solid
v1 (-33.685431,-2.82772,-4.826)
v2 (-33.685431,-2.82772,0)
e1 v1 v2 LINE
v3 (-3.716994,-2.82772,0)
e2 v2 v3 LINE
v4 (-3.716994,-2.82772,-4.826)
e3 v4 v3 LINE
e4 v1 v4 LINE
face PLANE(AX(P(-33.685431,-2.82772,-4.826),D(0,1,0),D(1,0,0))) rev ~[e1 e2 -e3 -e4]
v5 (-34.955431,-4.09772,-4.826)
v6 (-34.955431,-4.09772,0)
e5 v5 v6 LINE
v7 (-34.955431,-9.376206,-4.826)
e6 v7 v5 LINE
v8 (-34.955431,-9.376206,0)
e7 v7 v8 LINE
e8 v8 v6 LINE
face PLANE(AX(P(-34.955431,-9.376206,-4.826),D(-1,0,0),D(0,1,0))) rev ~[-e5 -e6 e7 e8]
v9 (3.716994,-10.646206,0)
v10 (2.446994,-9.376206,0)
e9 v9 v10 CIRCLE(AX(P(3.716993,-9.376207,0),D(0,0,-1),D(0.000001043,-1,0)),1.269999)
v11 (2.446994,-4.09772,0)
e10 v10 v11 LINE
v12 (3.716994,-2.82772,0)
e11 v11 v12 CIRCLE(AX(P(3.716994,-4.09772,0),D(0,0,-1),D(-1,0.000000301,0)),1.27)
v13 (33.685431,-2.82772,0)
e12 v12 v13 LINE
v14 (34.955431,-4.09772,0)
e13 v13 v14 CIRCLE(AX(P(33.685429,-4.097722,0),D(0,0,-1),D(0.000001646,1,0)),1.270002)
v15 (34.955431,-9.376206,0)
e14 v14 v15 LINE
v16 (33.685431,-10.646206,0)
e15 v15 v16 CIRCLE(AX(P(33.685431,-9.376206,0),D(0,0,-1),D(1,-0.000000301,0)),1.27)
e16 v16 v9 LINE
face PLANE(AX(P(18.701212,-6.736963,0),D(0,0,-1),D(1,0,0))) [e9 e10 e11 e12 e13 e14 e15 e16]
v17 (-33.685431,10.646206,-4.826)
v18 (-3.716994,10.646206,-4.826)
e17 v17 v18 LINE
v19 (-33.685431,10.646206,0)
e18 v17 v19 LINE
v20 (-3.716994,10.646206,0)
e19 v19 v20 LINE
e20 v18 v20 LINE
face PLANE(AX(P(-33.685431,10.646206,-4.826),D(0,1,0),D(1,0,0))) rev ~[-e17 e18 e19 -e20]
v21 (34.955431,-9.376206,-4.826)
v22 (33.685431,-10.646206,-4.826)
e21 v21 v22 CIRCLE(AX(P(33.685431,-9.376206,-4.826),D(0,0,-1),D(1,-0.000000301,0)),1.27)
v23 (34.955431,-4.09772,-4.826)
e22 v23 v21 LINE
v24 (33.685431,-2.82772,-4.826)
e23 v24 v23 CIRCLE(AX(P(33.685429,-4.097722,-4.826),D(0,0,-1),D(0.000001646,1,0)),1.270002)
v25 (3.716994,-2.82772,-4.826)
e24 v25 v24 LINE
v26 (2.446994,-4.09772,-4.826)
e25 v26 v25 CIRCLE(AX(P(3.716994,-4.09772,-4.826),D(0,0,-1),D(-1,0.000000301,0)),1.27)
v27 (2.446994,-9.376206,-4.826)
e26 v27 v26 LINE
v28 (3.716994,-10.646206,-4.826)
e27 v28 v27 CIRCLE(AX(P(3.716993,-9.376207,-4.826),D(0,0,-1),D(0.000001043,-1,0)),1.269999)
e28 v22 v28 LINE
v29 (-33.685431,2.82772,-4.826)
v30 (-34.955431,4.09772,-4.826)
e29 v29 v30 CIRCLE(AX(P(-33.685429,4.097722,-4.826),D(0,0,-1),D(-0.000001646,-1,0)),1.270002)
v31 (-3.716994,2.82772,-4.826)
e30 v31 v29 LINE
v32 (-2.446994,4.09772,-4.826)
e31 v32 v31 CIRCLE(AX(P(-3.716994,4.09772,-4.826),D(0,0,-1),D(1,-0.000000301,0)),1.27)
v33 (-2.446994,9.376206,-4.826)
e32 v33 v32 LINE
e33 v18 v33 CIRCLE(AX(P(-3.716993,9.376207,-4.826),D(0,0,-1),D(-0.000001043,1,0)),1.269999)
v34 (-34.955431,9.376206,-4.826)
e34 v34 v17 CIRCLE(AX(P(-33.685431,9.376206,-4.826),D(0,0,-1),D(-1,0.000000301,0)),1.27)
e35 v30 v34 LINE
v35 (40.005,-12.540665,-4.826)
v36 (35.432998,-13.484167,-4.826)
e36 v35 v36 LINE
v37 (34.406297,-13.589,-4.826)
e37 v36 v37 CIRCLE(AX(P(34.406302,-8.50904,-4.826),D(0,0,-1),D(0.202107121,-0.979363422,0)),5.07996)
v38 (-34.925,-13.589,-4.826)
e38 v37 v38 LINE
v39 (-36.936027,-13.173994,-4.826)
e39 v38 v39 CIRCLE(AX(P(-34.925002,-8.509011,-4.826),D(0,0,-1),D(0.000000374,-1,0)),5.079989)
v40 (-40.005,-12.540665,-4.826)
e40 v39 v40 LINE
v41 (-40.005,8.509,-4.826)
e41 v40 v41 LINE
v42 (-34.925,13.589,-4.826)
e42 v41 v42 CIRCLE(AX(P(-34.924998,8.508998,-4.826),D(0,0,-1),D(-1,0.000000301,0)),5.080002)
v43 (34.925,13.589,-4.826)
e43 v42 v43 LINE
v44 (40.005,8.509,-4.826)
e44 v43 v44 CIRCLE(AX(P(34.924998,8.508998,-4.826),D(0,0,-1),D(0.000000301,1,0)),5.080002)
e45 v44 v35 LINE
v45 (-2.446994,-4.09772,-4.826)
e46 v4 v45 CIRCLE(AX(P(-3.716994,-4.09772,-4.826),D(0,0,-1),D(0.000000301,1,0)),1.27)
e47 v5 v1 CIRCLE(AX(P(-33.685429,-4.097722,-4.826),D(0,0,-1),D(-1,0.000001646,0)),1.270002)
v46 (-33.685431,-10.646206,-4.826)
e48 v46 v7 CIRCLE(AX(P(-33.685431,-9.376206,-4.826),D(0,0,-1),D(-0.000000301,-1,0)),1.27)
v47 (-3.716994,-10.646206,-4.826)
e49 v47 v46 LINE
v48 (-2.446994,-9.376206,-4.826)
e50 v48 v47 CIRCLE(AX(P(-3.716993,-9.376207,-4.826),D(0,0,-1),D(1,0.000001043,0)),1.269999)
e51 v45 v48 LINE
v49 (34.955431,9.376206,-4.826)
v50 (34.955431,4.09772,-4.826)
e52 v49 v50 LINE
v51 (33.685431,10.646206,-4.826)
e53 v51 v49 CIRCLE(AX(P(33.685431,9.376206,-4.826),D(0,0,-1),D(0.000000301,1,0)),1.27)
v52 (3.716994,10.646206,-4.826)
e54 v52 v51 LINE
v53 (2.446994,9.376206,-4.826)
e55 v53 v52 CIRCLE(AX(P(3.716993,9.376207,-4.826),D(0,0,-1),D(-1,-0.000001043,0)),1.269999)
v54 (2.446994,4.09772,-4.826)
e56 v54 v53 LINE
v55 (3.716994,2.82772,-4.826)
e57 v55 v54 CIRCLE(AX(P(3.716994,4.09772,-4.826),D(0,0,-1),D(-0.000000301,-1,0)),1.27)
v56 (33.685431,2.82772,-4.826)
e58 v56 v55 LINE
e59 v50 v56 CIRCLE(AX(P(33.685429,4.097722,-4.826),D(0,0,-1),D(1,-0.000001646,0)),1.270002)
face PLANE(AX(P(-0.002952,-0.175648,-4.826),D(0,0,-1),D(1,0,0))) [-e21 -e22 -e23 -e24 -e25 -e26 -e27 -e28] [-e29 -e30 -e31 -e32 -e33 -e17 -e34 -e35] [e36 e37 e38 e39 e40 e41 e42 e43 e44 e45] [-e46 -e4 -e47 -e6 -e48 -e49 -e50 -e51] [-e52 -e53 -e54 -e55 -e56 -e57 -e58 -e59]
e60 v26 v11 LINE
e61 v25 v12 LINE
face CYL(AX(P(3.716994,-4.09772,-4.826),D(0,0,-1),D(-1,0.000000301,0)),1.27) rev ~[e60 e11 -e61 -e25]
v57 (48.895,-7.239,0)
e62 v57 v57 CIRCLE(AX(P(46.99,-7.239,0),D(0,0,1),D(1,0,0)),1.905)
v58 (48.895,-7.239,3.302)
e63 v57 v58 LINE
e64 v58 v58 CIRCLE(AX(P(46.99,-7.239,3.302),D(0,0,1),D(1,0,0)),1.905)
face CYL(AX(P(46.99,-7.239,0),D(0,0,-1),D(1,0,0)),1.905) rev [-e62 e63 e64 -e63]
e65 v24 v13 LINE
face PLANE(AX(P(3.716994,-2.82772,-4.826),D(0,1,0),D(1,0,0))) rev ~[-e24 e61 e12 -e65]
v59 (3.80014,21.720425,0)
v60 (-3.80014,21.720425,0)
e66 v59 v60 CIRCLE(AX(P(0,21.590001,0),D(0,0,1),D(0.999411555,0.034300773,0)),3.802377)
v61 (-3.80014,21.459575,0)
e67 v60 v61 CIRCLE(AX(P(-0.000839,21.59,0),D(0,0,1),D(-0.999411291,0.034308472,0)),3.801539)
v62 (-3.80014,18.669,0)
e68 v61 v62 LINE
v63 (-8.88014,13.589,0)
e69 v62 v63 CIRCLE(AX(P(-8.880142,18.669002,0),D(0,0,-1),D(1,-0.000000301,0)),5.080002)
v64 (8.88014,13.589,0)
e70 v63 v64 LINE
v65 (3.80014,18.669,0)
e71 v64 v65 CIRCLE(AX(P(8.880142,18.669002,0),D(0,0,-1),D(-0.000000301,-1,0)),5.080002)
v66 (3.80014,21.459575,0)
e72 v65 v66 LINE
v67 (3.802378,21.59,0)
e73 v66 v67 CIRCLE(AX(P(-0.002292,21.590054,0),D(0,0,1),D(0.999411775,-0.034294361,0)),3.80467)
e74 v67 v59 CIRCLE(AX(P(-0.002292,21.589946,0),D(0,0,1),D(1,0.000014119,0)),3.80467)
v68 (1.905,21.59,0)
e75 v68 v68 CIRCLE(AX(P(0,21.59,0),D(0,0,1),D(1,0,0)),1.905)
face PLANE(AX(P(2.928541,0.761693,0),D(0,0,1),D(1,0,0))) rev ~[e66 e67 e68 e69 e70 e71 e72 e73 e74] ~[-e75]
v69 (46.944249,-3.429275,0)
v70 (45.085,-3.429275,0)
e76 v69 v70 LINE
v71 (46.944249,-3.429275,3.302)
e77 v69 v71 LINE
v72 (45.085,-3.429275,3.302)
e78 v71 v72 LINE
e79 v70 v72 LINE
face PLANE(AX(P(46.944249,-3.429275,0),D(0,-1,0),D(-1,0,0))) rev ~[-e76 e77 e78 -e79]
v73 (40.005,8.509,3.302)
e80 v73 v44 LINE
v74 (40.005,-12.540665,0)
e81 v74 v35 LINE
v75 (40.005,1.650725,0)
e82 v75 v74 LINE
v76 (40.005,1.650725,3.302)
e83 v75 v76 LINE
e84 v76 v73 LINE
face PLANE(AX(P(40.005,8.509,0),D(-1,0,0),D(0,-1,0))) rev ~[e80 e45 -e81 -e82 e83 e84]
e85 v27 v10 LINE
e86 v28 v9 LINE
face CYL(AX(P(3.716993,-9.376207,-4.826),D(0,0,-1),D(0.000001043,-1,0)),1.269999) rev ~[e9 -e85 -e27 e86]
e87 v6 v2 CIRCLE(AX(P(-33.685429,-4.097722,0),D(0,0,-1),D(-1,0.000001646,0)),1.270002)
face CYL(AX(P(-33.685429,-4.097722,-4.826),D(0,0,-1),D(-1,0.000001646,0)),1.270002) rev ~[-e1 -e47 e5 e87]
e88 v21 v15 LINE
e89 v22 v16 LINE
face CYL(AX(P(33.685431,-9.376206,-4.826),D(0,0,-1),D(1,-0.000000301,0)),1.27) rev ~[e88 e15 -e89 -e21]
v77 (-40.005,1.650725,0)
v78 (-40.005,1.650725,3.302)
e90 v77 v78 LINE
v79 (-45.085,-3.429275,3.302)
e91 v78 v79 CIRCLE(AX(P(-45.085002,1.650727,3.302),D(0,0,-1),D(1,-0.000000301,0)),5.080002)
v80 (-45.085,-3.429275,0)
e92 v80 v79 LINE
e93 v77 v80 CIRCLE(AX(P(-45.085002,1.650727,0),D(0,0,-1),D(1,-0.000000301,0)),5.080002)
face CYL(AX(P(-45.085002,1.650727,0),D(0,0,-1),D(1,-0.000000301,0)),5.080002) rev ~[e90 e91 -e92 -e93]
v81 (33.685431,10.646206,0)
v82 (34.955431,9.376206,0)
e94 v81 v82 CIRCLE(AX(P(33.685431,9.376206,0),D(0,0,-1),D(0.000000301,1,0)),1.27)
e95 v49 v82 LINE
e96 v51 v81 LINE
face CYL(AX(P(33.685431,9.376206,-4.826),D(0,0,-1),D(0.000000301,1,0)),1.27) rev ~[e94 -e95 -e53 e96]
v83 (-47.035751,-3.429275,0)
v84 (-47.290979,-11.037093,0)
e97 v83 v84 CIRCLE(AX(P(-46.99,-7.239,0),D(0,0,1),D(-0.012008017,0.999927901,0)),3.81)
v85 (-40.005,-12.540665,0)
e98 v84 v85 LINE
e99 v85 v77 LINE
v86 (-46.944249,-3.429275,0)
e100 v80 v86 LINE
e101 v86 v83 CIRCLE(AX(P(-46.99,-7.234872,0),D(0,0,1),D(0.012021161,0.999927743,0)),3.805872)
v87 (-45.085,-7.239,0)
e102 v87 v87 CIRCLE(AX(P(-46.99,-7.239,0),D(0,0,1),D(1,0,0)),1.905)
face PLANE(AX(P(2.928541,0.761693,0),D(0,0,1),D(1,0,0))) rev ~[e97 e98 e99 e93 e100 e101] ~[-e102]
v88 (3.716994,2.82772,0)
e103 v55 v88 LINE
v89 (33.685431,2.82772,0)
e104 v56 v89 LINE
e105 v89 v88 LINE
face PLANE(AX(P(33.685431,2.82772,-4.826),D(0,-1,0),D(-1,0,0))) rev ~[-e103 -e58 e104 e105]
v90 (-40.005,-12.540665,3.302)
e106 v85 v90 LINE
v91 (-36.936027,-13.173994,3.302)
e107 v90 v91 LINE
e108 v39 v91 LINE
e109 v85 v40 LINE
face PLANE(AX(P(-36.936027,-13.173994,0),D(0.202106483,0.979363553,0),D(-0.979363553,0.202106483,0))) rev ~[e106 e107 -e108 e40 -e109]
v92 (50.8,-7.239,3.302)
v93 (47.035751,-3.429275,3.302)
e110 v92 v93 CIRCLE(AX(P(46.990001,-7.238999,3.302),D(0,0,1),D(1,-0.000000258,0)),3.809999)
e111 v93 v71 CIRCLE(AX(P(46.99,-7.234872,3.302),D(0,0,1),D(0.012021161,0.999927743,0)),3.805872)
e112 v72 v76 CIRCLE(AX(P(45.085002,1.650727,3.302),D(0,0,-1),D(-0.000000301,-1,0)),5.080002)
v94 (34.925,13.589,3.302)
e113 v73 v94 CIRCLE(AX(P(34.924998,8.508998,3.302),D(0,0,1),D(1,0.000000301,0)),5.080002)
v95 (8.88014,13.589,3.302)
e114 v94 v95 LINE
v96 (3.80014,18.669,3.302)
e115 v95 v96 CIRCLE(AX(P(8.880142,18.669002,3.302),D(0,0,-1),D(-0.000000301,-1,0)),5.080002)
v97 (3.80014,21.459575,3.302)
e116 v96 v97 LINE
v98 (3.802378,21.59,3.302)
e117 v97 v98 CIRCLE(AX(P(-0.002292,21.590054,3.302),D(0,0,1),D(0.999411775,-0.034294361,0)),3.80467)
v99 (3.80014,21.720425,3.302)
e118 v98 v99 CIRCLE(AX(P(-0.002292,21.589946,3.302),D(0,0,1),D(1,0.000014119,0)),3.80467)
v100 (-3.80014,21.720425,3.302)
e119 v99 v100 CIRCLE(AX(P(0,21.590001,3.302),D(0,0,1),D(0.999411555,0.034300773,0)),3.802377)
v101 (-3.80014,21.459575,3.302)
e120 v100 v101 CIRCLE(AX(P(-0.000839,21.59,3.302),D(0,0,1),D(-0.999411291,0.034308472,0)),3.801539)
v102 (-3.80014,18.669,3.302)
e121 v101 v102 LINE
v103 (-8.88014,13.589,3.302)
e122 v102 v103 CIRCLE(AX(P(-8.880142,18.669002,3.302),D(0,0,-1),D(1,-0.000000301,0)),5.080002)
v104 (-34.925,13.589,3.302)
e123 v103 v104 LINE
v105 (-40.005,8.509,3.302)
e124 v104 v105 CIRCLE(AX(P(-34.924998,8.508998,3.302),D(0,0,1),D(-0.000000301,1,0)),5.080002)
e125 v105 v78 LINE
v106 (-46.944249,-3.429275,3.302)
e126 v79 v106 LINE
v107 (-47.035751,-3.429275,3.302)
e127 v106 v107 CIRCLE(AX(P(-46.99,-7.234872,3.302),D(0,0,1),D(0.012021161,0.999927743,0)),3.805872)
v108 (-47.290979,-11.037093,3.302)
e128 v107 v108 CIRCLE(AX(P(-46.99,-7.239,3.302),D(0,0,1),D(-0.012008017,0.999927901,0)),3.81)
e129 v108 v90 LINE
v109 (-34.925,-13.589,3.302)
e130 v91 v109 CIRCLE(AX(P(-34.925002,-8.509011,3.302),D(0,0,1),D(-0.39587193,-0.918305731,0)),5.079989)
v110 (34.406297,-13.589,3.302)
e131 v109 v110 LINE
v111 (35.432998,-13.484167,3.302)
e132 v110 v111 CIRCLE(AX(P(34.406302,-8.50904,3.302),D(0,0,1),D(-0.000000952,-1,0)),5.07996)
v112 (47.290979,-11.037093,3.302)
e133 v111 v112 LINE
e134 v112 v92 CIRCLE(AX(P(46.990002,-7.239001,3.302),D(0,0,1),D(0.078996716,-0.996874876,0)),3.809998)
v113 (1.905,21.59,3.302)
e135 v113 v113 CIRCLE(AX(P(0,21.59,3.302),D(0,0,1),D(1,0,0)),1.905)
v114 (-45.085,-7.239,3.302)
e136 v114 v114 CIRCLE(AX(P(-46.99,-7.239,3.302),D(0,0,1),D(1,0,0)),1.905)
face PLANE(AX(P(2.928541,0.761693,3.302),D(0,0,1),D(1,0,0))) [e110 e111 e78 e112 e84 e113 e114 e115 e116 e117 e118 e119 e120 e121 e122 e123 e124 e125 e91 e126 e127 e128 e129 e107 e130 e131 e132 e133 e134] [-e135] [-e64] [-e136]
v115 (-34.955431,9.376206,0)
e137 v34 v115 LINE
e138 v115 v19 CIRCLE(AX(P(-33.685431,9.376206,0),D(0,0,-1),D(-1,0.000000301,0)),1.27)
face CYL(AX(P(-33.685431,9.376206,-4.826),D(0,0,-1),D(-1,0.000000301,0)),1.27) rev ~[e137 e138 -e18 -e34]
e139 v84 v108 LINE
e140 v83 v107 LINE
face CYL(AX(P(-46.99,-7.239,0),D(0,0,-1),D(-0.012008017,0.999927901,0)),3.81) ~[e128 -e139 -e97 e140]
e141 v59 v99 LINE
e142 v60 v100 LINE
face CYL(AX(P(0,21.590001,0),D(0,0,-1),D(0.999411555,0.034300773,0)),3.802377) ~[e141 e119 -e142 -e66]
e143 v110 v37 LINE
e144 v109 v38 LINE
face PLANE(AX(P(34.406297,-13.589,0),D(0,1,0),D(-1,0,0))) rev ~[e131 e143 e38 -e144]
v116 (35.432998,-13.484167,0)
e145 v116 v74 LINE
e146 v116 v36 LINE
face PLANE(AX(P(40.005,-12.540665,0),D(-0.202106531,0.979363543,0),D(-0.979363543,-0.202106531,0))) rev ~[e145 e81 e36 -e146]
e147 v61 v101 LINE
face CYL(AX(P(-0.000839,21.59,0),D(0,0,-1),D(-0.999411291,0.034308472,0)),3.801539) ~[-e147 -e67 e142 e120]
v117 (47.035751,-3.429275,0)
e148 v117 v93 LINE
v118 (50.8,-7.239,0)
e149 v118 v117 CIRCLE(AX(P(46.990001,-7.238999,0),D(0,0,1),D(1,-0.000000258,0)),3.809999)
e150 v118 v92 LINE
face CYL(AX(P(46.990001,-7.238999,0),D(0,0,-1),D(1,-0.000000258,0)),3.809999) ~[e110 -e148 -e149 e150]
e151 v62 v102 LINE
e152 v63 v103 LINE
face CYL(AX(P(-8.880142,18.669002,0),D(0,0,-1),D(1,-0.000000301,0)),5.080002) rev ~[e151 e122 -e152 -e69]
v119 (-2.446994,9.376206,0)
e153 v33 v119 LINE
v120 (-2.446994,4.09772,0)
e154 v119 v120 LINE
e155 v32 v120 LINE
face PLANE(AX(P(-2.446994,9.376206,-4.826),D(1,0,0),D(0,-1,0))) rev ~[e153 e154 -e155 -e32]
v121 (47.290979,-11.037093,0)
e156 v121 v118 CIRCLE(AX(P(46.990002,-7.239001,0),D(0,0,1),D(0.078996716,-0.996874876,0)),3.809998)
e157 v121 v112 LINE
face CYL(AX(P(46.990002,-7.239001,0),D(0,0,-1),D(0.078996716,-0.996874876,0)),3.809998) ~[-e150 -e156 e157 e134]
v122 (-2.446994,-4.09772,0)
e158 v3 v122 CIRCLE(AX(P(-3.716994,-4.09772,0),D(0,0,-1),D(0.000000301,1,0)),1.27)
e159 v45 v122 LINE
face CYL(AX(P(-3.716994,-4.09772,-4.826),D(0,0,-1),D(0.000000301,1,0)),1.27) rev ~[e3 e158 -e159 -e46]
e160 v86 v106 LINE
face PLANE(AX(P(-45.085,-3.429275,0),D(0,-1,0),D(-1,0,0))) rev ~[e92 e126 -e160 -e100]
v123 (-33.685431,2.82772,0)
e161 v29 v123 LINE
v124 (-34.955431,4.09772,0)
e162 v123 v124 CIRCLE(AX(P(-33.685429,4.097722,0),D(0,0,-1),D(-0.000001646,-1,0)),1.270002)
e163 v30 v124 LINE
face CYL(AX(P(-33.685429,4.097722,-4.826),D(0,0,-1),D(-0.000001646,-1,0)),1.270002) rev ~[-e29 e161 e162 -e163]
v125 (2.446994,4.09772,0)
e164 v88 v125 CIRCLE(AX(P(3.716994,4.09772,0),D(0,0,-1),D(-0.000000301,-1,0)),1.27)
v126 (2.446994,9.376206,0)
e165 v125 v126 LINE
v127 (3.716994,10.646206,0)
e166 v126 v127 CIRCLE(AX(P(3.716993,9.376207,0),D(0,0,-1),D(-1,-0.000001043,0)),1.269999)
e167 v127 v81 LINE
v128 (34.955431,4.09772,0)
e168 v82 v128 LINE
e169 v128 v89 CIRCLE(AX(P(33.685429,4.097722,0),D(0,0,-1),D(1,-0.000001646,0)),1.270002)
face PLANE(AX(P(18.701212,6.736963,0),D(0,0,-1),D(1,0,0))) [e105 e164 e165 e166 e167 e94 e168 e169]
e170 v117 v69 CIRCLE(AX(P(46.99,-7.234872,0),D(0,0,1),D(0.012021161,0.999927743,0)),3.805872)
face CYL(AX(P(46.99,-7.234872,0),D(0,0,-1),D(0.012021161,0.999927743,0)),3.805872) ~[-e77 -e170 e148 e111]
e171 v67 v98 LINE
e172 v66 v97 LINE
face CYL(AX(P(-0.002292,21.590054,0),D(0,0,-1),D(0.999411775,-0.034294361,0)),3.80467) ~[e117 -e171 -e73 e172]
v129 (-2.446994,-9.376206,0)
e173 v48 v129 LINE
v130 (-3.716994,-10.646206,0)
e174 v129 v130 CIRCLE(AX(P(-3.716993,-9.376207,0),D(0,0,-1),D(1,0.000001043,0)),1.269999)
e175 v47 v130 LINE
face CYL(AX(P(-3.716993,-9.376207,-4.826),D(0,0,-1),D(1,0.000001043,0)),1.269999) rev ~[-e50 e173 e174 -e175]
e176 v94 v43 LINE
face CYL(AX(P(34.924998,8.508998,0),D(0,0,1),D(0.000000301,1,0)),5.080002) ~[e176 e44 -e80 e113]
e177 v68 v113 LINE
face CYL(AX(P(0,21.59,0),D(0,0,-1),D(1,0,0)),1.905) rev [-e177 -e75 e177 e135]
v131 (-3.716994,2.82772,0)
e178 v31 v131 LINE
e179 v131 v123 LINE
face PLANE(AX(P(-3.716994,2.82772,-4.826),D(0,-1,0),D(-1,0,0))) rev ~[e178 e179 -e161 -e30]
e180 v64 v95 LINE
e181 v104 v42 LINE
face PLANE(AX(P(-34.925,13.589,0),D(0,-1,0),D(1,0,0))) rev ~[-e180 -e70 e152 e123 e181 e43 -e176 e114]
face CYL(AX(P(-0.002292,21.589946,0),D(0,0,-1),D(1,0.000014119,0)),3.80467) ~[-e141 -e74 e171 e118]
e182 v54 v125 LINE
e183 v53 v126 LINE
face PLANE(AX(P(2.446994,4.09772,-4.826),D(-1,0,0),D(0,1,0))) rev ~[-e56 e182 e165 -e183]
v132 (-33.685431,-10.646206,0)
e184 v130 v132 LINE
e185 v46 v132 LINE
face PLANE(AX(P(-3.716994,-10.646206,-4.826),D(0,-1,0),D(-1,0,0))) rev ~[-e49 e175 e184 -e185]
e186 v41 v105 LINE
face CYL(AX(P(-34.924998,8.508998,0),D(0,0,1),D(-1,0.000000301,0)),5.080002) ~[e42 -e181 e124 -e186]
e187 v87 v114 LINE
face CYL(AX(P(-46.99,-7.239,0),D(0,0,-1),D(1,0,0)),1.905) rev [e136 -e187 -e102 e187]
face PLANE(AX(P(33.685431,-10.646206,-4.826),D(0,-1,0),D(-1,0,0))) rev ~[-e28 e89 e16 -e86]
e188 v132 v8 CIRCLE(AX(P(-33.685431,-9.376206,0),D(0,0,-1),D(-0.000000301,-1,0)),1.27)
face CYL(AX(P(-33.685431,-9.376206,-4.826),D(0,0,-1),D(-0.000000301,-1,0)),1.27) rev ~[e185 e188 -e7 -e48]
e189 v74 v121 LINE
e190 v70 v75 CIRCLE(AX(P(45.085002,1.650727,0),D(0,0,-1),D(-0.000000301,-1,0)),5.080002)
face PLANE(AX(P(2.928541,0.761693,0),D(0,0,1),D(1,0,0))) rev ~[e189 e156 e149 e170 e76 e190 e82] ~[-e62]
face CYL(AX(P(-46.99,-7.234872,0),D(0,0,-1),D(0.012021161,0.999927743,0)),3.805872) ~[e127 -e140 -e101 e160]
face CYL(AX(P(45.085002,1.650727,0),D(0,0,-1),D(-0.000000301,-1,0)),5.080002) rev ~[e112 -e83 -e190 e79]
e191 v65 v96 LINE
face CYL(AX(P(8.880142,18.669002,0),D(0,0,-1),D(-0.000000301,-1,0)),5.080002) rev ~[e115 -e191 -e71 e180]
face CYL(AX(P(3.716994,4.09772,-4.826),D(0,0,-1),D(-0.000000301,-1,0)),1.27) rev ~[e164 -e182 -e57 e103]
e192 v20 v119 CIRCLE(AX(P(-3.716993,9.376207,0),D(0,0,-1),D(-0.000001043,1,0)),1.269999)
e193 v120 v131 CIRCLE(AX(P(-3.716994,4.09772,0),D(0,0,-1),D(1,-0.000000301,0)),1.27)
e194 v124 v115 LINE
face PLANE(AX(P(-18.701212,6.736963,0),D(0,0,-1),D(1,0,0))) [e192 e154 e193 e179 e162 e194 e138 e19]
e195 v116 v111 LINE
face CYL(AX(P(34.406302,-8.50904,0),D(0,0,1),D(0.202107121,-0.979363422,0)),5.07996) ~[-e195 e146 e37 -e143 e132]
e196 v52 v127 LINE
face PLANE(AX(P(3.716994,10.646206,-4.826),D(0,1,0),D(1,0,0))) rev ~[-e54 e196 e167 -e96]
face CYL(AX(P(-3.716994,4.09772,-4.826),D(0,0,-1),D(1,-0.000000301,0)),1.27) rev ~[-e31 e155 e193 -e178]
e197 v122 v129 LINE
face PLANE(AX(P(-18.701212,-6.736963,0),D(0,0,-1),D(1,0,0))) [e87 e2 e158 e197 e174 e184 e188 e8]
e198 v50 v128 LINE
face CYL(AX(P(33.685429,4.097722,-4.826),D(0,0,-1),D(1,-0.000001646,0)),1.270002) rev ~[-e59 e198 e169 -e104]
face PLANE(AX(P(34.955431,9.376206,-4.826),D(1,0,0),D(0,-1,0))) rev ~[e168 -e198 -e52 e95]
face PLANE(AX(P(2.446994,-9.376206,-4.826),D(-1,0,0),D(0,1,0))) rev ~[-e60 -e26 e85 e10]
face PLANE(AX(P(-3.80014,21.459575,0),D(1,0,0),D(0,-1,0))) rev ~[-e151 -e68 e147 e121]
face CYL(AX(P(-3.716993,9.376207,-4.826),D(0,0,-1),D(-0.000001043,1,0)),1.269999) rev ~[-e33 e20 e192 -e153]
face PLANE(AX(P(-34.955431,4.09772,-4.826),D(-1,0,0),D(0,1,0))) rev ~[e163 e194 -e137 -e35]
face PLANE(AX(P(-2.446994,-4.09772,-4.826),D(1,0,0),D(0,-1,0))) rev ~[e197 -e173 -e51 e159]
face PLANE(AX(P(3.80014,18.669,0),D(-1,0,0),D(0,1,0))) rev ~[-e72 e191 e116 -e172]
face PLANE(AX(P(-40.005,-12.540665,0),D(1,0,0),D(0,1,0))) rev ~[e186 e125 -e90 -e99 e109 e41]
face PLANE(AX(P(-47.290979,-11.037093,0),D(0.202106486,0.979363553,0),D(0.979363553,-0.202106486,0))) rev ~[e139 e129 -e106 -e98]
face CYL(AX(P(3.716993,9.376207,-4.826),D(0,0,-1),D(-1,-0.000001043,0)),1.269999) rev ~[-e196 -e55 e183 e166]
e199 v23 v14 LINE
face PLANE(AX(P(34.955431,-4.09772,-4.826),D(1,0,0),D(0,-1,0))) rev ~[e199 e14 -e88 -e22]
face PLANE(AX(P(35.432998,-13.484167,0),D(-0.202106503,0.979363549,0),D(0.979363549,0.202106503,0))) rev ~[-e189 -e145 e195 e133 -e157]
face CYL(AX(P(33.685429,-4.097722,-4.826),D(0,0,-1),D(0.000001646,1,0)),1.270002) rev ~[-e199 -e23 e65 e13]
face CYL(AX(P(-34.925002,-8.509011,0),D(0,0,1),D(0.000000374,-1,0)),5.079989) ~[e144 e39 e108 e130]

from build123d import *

# Parameters (mm, degrees)
F0_R     = 1.905
F1_DEPTH = 3.302
F3_DEPTH = 4.826
F5_DEPTH = 4.826


with BuildPart() as f1:
    # F0 (on Top) → F1 (new body)
    with BuildSketch(Plane.XY):
        with BuildLine():
            Line((-8.88014, 13.589), (-34.925, 13.589))
            ThreePointArc((-34.925, 13.589), (-38.517102, 12.101102), (-40.005, 8.509))
            Line((-40.005, 8.509), (-40.005, 1.650725))
            Line((-40.005, 1.650725), (-40.005, -12.540665))
            Line((-40.005, -12.540665), (-36.936027, -13.173994))
            ThreePointArc((-36.936027, -13.173994), (-35.951701, -13.484167), (-34.925, -13.589))
            Line((-34.925, -13.589), (34.406297, -13.589))
            ThreePointArc((34.406297, -13.589), (34.922317, -13.562724), (35.432998, -13.484167))
            Line((35.432998, -13.484167), (47.290979, -11.037093))
            ThreePointArc((47.290979, -11.037093), (43.183951, -7.412463), (46.944249, -3.429275))
            Line((46.944249, -3.429275), (45.085, -3.429275))
            ThreePointArc((45.085, -3.429275), (41.492898, -1.941377), (40.005, 1.650725))
            Line((40.005, 1.650725), (40.005, 8.509))
            ThreePointArc((40.005, 8.509), (38.517102, 12.101102), (34.925, 13.589))
            Line((34.925, 13.589), (8.88014, 13.589))
            ThreePointArc((8.88014, 13.589), (5.288038, 15.076898), (3.80014, 18.669))
            Line((3.80014, 18.669), (3.80014, 21.459575))
            ThreePointArc((3.80014, 21.459575), (0, 17.787622), (-3.80014, 21.459575))
            Line((-3.80014, 21.459575), (-3.80014, 18.669))
            ThreePointArc((-3.80014, 18.669), (-5.288038, 15.076898), (-8.88014, 13.589))
        make_face()
        with BuildLine():
            Line((-40.005, -12.540665), (-40.005, 1.650725))
            ThreePointArc((-40.005, 1.650725), (-41.492898, -1.941377), (-45.085, -3.429275))
            Line((-45.085, -3.429275), (-46.944249, -3.429275))
            ThreePointArc((-46.944249, -3.429275), (-44.279796, -4.561147), (-43.18, -7.239))
            ThreePointArc((-43.18, -7.239), (-44.404524, -10.037467), (-47.290979, -11.037093))
            Line((-47.290979, -11.037093), (-40.005, -12.540665))
        make_face()
        with BuildLine():
            Line((-3.80014, 21.720425), (-3.80014, 21.459575))
            ThreePointArc((-3.80014, 21.459575), (0, 17.787622), (3.80014, 21.459575))
            Line((3.80014, 21.459575), (3.80014, 21.720425))
            ThreePointArc((3.80014, 21.720425), (0, 25.392378), (-3.80014, 21.720425))
        make_face()
        with Locations((0, 21.59)):
            Circle(F0_R, mode=Mode.SUBTRACT)
        with BuildLine():
            ThreePointArc((-3.80014, 21.720425), (-3.802378, 21.59), (-3.80014, 21.459575))
            Line((-3.80014, 21.459575), (-3.80014, 21.720425))
        make_face()
        with BuildLine():
            Line((3.80014, 21.720425), (3.80014, 21.459575))
            ThreePointArc((3.80014, 21.459575), (3.801818, 21.524778), (3.802378, 21.59))
            ThreePointArc((3.802378, 21.59), (3.801818, 21.655222), (3.80014, 21.720425))
        make_face()
        with BuildLine():
            Line((-47.035751, -3.429275), (-46.944249, -3.429275))
            ThreePointArc((-46.944249, -3.429275), (-46.99, -3.429), (-47.035751, -3.429275))
        make_face()
        with BuildLine():
            ThreePointArc((-43.18, -7.239), (-44.279796, -4.561147), (-46.944249, -3.429275))
            Line((-46.944249, -3.429275), (-47.035751, -3.429275))
            ThreePointArc((-47.035751, -3.429275), (-50.797858, -7.111254), (-47.290979, -11.037093))
            ThreePointArc((-47.290979, -11.037093), (-44.404524, -10.037467), (-43.18, -7.239))
        make_face()
        with Locations((-46.99, -7.239)):
            Circle(F0_R, mode=Mode.SUBTRACT)
        with BuildLine():
            ThreePointArc((46.944249, -3.429275), (43.183951, -7.412463), (47.290979, -11.037093))
            ThreePointArc((47.290979, -11.037093), (49.788467, -9.824476), (50.8, -7.239))
            ThreePointArc((50.8, -7.239), (49.700204, -4.561147), (47.035751, -3.429275))
            Line((47.035751, -3.429275), (46.944249, -3.429275))
        make_face()
        with Locations((46.99, -7.239)):
            Circle(F0_R, mode=Mode.SUBTRACT)
        with BuildLine():
            ThreePointArc((47.035751, -3.429275), (46.99, -3.429), (46.944249, -3.429275))
            Line((46.944249, -3.429275), (47.035751, -3.429275))
        make_face()
    extrude(amount=F1_DEPTH)

    # F2 (on face) → F3 (join)
    with BuildSketch(Plane(origin=(0, 0, 0), x_dir=(1, 0, 0), z_dir=(0, 0, -1))):
        with BuildLine():
            Line((-40.005, -1.650725), (-40.005, -5.079863))
            Line((-40.005, -5.079863), (-40.005, -8.509))
            ThreePointArc((-40.005, -8.509), (-38.517102, -12.101102), (-34.925, -13.589))
            Line((-34.925, -13.589), (-13.131685, -13.589))
            Line((-13.131685, -13.589), (-8.88014, -13.589))
            Line((-8.88014, -13.589), (8.88014, -13.589))
            Line((8.88014, -13.589), (9.643361, -13.589))
            Line((9.643361, -13.589), (34.925, -13.589))
            ThreePointArc((34.925, -13.589), (38.517102, -12.101102), (40.005, -8.509))
            Line((40.005, -8.509), (40.005, -5.079863))
            Line((40.005, -5.079863), (40.005, -1.650725))
            Line((40.005, -1.650725), (40.005, 12.540665))
            Line((40.005, 12.540665), (35.432998, 13.484167))
            ThreePointArc((35.432998, 13.484167), (34.922317, 13.562724), (34.406297, 13.589))
            Line((34.406297, 13.589), (-34.925, 13.589))
            ThreePointArc((-34.925, 13.589), (-35.951701, 13.484167), (-36.936027, 13.173994))
            Line((-36.936027, 13.173994), (-40.005, 12.540665))
            Line((-40.005, 12.540665), (-40.005, -1.650725))
        make_face()
    extrude(amount=F3_DEPTH)

    # F4 (on face) → F5 (cut)
    with BuildSketch(Plane(origin=(0, 0, -4.826), x_dir=(1, 0, 0), z_dir=(0, 0, -1))):
        with BuildLine():
            ThreePointArc((-34.955431, 4.09772), (-34.583456, 3.199695), (-33.685431, 2.82772))
            Line((-33.685431, 2.82772), (-3.716994, 2.82772))
            ThreePointArc((-3.716994, 2.82772), (-2.818968, 3.199695), (-2.446994, 4.09772))
            Line((-2.446994, 4.09772), (-2.446994, 9.376206))
            ThreePointArc((-2.446994, 9.376206), (-2.818968, 10.274232), (-3.716994, 10.646206))
            Line((-3.716994, 10.646206), (-33.685431, 10.646206))
            ThreePointArc((-33.685431, 10.646206), (-34.583456, 10.274232), (-34.955431, 9.376206))
            Line((-34.955431, 9.376206), (-34.955431, 4.09772))
        make_face()
        with BuildLine():
            ThreePointArc((3.716994, 10.646206), (2.818968, 10.274232), (2.446994, 9.376206))
            Line((2.446994, 9.376206), (2.446994, 4.09772))
            ThreePointArc((2.446994, 4.09772), (2.818968, 3.199695), (3.716994, 2.82772))
            Line((3.716994, 2.82772), (33.685431, 2.82772))
            ThreePointArc((33.685431, 2.82772), (34.583456, 3.199695), (34.955431, 4.09772))
            Line((34.955431, 4.09772), (34.955431, 9.376206))
            ThreePointArc((34.955431, 9.376206), (34.583456, 10.274232), (33.685431, 10.646206))
            Line((33.685431, 10.646206), (3.716994, 10.646206))
        make_face()
        with BuildLine():
            Line((-3.716994, -2.82772), (-33.685431, -2.82772))
            ThreePointArc((-33.685431, -2.82772), (-34.583456, -3.199695), (-34.955431, -4.09772))
            Line((-34.955431, -4.09772), (-34.955431, -9.376206))
            ThreePointArc((-34.955431, -9.376206), (-34.583456, -10.274232), (-33.685431, -10.646206))
            Line((-33.685431, -10.646206), (-3.716994, -10.646206))
            ThreePointArc((-3.716994, -10.646206), (-2.818968, -10.274232), (-2.446994, -9.376206))
            Line((-2.446994, -9.376206), (-2.446994, -4.09772))
            ThreePointArc((-2.446994, -4.09772), (-2.818968, -3.199695), (-3.716994, -2.82772))
        make_face()
        with BuildLine():
            Line((2.446994, -4.09772), (2.446994, -9.376206))
            ThreePointArc((2.446994, -9.376206), (2.818968, -10.274232), (3.716994, -10.646206))
            Line((3.716994, -10.646206), (33.685431, -10.646206))
            ThreePointArc((33.685431, -10.646206), (34.583456, -10.274232), (34.955431, -9.376206))
            Line((34.955431, -9.376206), (34.955431, -4.09772))
            ThreePointArc((34.955431, -4.09772), (34.583456, -3.199695), (33.685431, -2.82772))
            Line((33.685431, -2.82772), (3.716994, -2.82772))
            ThreePointArc((3.716994, -2.82772), (2.818968, -3.199695), (2.446994, -4.09772))
        make_face()
    extrude(amount=-F5_DEPTH, mode=Mode.SUBTRACT)


solid = f1.part
